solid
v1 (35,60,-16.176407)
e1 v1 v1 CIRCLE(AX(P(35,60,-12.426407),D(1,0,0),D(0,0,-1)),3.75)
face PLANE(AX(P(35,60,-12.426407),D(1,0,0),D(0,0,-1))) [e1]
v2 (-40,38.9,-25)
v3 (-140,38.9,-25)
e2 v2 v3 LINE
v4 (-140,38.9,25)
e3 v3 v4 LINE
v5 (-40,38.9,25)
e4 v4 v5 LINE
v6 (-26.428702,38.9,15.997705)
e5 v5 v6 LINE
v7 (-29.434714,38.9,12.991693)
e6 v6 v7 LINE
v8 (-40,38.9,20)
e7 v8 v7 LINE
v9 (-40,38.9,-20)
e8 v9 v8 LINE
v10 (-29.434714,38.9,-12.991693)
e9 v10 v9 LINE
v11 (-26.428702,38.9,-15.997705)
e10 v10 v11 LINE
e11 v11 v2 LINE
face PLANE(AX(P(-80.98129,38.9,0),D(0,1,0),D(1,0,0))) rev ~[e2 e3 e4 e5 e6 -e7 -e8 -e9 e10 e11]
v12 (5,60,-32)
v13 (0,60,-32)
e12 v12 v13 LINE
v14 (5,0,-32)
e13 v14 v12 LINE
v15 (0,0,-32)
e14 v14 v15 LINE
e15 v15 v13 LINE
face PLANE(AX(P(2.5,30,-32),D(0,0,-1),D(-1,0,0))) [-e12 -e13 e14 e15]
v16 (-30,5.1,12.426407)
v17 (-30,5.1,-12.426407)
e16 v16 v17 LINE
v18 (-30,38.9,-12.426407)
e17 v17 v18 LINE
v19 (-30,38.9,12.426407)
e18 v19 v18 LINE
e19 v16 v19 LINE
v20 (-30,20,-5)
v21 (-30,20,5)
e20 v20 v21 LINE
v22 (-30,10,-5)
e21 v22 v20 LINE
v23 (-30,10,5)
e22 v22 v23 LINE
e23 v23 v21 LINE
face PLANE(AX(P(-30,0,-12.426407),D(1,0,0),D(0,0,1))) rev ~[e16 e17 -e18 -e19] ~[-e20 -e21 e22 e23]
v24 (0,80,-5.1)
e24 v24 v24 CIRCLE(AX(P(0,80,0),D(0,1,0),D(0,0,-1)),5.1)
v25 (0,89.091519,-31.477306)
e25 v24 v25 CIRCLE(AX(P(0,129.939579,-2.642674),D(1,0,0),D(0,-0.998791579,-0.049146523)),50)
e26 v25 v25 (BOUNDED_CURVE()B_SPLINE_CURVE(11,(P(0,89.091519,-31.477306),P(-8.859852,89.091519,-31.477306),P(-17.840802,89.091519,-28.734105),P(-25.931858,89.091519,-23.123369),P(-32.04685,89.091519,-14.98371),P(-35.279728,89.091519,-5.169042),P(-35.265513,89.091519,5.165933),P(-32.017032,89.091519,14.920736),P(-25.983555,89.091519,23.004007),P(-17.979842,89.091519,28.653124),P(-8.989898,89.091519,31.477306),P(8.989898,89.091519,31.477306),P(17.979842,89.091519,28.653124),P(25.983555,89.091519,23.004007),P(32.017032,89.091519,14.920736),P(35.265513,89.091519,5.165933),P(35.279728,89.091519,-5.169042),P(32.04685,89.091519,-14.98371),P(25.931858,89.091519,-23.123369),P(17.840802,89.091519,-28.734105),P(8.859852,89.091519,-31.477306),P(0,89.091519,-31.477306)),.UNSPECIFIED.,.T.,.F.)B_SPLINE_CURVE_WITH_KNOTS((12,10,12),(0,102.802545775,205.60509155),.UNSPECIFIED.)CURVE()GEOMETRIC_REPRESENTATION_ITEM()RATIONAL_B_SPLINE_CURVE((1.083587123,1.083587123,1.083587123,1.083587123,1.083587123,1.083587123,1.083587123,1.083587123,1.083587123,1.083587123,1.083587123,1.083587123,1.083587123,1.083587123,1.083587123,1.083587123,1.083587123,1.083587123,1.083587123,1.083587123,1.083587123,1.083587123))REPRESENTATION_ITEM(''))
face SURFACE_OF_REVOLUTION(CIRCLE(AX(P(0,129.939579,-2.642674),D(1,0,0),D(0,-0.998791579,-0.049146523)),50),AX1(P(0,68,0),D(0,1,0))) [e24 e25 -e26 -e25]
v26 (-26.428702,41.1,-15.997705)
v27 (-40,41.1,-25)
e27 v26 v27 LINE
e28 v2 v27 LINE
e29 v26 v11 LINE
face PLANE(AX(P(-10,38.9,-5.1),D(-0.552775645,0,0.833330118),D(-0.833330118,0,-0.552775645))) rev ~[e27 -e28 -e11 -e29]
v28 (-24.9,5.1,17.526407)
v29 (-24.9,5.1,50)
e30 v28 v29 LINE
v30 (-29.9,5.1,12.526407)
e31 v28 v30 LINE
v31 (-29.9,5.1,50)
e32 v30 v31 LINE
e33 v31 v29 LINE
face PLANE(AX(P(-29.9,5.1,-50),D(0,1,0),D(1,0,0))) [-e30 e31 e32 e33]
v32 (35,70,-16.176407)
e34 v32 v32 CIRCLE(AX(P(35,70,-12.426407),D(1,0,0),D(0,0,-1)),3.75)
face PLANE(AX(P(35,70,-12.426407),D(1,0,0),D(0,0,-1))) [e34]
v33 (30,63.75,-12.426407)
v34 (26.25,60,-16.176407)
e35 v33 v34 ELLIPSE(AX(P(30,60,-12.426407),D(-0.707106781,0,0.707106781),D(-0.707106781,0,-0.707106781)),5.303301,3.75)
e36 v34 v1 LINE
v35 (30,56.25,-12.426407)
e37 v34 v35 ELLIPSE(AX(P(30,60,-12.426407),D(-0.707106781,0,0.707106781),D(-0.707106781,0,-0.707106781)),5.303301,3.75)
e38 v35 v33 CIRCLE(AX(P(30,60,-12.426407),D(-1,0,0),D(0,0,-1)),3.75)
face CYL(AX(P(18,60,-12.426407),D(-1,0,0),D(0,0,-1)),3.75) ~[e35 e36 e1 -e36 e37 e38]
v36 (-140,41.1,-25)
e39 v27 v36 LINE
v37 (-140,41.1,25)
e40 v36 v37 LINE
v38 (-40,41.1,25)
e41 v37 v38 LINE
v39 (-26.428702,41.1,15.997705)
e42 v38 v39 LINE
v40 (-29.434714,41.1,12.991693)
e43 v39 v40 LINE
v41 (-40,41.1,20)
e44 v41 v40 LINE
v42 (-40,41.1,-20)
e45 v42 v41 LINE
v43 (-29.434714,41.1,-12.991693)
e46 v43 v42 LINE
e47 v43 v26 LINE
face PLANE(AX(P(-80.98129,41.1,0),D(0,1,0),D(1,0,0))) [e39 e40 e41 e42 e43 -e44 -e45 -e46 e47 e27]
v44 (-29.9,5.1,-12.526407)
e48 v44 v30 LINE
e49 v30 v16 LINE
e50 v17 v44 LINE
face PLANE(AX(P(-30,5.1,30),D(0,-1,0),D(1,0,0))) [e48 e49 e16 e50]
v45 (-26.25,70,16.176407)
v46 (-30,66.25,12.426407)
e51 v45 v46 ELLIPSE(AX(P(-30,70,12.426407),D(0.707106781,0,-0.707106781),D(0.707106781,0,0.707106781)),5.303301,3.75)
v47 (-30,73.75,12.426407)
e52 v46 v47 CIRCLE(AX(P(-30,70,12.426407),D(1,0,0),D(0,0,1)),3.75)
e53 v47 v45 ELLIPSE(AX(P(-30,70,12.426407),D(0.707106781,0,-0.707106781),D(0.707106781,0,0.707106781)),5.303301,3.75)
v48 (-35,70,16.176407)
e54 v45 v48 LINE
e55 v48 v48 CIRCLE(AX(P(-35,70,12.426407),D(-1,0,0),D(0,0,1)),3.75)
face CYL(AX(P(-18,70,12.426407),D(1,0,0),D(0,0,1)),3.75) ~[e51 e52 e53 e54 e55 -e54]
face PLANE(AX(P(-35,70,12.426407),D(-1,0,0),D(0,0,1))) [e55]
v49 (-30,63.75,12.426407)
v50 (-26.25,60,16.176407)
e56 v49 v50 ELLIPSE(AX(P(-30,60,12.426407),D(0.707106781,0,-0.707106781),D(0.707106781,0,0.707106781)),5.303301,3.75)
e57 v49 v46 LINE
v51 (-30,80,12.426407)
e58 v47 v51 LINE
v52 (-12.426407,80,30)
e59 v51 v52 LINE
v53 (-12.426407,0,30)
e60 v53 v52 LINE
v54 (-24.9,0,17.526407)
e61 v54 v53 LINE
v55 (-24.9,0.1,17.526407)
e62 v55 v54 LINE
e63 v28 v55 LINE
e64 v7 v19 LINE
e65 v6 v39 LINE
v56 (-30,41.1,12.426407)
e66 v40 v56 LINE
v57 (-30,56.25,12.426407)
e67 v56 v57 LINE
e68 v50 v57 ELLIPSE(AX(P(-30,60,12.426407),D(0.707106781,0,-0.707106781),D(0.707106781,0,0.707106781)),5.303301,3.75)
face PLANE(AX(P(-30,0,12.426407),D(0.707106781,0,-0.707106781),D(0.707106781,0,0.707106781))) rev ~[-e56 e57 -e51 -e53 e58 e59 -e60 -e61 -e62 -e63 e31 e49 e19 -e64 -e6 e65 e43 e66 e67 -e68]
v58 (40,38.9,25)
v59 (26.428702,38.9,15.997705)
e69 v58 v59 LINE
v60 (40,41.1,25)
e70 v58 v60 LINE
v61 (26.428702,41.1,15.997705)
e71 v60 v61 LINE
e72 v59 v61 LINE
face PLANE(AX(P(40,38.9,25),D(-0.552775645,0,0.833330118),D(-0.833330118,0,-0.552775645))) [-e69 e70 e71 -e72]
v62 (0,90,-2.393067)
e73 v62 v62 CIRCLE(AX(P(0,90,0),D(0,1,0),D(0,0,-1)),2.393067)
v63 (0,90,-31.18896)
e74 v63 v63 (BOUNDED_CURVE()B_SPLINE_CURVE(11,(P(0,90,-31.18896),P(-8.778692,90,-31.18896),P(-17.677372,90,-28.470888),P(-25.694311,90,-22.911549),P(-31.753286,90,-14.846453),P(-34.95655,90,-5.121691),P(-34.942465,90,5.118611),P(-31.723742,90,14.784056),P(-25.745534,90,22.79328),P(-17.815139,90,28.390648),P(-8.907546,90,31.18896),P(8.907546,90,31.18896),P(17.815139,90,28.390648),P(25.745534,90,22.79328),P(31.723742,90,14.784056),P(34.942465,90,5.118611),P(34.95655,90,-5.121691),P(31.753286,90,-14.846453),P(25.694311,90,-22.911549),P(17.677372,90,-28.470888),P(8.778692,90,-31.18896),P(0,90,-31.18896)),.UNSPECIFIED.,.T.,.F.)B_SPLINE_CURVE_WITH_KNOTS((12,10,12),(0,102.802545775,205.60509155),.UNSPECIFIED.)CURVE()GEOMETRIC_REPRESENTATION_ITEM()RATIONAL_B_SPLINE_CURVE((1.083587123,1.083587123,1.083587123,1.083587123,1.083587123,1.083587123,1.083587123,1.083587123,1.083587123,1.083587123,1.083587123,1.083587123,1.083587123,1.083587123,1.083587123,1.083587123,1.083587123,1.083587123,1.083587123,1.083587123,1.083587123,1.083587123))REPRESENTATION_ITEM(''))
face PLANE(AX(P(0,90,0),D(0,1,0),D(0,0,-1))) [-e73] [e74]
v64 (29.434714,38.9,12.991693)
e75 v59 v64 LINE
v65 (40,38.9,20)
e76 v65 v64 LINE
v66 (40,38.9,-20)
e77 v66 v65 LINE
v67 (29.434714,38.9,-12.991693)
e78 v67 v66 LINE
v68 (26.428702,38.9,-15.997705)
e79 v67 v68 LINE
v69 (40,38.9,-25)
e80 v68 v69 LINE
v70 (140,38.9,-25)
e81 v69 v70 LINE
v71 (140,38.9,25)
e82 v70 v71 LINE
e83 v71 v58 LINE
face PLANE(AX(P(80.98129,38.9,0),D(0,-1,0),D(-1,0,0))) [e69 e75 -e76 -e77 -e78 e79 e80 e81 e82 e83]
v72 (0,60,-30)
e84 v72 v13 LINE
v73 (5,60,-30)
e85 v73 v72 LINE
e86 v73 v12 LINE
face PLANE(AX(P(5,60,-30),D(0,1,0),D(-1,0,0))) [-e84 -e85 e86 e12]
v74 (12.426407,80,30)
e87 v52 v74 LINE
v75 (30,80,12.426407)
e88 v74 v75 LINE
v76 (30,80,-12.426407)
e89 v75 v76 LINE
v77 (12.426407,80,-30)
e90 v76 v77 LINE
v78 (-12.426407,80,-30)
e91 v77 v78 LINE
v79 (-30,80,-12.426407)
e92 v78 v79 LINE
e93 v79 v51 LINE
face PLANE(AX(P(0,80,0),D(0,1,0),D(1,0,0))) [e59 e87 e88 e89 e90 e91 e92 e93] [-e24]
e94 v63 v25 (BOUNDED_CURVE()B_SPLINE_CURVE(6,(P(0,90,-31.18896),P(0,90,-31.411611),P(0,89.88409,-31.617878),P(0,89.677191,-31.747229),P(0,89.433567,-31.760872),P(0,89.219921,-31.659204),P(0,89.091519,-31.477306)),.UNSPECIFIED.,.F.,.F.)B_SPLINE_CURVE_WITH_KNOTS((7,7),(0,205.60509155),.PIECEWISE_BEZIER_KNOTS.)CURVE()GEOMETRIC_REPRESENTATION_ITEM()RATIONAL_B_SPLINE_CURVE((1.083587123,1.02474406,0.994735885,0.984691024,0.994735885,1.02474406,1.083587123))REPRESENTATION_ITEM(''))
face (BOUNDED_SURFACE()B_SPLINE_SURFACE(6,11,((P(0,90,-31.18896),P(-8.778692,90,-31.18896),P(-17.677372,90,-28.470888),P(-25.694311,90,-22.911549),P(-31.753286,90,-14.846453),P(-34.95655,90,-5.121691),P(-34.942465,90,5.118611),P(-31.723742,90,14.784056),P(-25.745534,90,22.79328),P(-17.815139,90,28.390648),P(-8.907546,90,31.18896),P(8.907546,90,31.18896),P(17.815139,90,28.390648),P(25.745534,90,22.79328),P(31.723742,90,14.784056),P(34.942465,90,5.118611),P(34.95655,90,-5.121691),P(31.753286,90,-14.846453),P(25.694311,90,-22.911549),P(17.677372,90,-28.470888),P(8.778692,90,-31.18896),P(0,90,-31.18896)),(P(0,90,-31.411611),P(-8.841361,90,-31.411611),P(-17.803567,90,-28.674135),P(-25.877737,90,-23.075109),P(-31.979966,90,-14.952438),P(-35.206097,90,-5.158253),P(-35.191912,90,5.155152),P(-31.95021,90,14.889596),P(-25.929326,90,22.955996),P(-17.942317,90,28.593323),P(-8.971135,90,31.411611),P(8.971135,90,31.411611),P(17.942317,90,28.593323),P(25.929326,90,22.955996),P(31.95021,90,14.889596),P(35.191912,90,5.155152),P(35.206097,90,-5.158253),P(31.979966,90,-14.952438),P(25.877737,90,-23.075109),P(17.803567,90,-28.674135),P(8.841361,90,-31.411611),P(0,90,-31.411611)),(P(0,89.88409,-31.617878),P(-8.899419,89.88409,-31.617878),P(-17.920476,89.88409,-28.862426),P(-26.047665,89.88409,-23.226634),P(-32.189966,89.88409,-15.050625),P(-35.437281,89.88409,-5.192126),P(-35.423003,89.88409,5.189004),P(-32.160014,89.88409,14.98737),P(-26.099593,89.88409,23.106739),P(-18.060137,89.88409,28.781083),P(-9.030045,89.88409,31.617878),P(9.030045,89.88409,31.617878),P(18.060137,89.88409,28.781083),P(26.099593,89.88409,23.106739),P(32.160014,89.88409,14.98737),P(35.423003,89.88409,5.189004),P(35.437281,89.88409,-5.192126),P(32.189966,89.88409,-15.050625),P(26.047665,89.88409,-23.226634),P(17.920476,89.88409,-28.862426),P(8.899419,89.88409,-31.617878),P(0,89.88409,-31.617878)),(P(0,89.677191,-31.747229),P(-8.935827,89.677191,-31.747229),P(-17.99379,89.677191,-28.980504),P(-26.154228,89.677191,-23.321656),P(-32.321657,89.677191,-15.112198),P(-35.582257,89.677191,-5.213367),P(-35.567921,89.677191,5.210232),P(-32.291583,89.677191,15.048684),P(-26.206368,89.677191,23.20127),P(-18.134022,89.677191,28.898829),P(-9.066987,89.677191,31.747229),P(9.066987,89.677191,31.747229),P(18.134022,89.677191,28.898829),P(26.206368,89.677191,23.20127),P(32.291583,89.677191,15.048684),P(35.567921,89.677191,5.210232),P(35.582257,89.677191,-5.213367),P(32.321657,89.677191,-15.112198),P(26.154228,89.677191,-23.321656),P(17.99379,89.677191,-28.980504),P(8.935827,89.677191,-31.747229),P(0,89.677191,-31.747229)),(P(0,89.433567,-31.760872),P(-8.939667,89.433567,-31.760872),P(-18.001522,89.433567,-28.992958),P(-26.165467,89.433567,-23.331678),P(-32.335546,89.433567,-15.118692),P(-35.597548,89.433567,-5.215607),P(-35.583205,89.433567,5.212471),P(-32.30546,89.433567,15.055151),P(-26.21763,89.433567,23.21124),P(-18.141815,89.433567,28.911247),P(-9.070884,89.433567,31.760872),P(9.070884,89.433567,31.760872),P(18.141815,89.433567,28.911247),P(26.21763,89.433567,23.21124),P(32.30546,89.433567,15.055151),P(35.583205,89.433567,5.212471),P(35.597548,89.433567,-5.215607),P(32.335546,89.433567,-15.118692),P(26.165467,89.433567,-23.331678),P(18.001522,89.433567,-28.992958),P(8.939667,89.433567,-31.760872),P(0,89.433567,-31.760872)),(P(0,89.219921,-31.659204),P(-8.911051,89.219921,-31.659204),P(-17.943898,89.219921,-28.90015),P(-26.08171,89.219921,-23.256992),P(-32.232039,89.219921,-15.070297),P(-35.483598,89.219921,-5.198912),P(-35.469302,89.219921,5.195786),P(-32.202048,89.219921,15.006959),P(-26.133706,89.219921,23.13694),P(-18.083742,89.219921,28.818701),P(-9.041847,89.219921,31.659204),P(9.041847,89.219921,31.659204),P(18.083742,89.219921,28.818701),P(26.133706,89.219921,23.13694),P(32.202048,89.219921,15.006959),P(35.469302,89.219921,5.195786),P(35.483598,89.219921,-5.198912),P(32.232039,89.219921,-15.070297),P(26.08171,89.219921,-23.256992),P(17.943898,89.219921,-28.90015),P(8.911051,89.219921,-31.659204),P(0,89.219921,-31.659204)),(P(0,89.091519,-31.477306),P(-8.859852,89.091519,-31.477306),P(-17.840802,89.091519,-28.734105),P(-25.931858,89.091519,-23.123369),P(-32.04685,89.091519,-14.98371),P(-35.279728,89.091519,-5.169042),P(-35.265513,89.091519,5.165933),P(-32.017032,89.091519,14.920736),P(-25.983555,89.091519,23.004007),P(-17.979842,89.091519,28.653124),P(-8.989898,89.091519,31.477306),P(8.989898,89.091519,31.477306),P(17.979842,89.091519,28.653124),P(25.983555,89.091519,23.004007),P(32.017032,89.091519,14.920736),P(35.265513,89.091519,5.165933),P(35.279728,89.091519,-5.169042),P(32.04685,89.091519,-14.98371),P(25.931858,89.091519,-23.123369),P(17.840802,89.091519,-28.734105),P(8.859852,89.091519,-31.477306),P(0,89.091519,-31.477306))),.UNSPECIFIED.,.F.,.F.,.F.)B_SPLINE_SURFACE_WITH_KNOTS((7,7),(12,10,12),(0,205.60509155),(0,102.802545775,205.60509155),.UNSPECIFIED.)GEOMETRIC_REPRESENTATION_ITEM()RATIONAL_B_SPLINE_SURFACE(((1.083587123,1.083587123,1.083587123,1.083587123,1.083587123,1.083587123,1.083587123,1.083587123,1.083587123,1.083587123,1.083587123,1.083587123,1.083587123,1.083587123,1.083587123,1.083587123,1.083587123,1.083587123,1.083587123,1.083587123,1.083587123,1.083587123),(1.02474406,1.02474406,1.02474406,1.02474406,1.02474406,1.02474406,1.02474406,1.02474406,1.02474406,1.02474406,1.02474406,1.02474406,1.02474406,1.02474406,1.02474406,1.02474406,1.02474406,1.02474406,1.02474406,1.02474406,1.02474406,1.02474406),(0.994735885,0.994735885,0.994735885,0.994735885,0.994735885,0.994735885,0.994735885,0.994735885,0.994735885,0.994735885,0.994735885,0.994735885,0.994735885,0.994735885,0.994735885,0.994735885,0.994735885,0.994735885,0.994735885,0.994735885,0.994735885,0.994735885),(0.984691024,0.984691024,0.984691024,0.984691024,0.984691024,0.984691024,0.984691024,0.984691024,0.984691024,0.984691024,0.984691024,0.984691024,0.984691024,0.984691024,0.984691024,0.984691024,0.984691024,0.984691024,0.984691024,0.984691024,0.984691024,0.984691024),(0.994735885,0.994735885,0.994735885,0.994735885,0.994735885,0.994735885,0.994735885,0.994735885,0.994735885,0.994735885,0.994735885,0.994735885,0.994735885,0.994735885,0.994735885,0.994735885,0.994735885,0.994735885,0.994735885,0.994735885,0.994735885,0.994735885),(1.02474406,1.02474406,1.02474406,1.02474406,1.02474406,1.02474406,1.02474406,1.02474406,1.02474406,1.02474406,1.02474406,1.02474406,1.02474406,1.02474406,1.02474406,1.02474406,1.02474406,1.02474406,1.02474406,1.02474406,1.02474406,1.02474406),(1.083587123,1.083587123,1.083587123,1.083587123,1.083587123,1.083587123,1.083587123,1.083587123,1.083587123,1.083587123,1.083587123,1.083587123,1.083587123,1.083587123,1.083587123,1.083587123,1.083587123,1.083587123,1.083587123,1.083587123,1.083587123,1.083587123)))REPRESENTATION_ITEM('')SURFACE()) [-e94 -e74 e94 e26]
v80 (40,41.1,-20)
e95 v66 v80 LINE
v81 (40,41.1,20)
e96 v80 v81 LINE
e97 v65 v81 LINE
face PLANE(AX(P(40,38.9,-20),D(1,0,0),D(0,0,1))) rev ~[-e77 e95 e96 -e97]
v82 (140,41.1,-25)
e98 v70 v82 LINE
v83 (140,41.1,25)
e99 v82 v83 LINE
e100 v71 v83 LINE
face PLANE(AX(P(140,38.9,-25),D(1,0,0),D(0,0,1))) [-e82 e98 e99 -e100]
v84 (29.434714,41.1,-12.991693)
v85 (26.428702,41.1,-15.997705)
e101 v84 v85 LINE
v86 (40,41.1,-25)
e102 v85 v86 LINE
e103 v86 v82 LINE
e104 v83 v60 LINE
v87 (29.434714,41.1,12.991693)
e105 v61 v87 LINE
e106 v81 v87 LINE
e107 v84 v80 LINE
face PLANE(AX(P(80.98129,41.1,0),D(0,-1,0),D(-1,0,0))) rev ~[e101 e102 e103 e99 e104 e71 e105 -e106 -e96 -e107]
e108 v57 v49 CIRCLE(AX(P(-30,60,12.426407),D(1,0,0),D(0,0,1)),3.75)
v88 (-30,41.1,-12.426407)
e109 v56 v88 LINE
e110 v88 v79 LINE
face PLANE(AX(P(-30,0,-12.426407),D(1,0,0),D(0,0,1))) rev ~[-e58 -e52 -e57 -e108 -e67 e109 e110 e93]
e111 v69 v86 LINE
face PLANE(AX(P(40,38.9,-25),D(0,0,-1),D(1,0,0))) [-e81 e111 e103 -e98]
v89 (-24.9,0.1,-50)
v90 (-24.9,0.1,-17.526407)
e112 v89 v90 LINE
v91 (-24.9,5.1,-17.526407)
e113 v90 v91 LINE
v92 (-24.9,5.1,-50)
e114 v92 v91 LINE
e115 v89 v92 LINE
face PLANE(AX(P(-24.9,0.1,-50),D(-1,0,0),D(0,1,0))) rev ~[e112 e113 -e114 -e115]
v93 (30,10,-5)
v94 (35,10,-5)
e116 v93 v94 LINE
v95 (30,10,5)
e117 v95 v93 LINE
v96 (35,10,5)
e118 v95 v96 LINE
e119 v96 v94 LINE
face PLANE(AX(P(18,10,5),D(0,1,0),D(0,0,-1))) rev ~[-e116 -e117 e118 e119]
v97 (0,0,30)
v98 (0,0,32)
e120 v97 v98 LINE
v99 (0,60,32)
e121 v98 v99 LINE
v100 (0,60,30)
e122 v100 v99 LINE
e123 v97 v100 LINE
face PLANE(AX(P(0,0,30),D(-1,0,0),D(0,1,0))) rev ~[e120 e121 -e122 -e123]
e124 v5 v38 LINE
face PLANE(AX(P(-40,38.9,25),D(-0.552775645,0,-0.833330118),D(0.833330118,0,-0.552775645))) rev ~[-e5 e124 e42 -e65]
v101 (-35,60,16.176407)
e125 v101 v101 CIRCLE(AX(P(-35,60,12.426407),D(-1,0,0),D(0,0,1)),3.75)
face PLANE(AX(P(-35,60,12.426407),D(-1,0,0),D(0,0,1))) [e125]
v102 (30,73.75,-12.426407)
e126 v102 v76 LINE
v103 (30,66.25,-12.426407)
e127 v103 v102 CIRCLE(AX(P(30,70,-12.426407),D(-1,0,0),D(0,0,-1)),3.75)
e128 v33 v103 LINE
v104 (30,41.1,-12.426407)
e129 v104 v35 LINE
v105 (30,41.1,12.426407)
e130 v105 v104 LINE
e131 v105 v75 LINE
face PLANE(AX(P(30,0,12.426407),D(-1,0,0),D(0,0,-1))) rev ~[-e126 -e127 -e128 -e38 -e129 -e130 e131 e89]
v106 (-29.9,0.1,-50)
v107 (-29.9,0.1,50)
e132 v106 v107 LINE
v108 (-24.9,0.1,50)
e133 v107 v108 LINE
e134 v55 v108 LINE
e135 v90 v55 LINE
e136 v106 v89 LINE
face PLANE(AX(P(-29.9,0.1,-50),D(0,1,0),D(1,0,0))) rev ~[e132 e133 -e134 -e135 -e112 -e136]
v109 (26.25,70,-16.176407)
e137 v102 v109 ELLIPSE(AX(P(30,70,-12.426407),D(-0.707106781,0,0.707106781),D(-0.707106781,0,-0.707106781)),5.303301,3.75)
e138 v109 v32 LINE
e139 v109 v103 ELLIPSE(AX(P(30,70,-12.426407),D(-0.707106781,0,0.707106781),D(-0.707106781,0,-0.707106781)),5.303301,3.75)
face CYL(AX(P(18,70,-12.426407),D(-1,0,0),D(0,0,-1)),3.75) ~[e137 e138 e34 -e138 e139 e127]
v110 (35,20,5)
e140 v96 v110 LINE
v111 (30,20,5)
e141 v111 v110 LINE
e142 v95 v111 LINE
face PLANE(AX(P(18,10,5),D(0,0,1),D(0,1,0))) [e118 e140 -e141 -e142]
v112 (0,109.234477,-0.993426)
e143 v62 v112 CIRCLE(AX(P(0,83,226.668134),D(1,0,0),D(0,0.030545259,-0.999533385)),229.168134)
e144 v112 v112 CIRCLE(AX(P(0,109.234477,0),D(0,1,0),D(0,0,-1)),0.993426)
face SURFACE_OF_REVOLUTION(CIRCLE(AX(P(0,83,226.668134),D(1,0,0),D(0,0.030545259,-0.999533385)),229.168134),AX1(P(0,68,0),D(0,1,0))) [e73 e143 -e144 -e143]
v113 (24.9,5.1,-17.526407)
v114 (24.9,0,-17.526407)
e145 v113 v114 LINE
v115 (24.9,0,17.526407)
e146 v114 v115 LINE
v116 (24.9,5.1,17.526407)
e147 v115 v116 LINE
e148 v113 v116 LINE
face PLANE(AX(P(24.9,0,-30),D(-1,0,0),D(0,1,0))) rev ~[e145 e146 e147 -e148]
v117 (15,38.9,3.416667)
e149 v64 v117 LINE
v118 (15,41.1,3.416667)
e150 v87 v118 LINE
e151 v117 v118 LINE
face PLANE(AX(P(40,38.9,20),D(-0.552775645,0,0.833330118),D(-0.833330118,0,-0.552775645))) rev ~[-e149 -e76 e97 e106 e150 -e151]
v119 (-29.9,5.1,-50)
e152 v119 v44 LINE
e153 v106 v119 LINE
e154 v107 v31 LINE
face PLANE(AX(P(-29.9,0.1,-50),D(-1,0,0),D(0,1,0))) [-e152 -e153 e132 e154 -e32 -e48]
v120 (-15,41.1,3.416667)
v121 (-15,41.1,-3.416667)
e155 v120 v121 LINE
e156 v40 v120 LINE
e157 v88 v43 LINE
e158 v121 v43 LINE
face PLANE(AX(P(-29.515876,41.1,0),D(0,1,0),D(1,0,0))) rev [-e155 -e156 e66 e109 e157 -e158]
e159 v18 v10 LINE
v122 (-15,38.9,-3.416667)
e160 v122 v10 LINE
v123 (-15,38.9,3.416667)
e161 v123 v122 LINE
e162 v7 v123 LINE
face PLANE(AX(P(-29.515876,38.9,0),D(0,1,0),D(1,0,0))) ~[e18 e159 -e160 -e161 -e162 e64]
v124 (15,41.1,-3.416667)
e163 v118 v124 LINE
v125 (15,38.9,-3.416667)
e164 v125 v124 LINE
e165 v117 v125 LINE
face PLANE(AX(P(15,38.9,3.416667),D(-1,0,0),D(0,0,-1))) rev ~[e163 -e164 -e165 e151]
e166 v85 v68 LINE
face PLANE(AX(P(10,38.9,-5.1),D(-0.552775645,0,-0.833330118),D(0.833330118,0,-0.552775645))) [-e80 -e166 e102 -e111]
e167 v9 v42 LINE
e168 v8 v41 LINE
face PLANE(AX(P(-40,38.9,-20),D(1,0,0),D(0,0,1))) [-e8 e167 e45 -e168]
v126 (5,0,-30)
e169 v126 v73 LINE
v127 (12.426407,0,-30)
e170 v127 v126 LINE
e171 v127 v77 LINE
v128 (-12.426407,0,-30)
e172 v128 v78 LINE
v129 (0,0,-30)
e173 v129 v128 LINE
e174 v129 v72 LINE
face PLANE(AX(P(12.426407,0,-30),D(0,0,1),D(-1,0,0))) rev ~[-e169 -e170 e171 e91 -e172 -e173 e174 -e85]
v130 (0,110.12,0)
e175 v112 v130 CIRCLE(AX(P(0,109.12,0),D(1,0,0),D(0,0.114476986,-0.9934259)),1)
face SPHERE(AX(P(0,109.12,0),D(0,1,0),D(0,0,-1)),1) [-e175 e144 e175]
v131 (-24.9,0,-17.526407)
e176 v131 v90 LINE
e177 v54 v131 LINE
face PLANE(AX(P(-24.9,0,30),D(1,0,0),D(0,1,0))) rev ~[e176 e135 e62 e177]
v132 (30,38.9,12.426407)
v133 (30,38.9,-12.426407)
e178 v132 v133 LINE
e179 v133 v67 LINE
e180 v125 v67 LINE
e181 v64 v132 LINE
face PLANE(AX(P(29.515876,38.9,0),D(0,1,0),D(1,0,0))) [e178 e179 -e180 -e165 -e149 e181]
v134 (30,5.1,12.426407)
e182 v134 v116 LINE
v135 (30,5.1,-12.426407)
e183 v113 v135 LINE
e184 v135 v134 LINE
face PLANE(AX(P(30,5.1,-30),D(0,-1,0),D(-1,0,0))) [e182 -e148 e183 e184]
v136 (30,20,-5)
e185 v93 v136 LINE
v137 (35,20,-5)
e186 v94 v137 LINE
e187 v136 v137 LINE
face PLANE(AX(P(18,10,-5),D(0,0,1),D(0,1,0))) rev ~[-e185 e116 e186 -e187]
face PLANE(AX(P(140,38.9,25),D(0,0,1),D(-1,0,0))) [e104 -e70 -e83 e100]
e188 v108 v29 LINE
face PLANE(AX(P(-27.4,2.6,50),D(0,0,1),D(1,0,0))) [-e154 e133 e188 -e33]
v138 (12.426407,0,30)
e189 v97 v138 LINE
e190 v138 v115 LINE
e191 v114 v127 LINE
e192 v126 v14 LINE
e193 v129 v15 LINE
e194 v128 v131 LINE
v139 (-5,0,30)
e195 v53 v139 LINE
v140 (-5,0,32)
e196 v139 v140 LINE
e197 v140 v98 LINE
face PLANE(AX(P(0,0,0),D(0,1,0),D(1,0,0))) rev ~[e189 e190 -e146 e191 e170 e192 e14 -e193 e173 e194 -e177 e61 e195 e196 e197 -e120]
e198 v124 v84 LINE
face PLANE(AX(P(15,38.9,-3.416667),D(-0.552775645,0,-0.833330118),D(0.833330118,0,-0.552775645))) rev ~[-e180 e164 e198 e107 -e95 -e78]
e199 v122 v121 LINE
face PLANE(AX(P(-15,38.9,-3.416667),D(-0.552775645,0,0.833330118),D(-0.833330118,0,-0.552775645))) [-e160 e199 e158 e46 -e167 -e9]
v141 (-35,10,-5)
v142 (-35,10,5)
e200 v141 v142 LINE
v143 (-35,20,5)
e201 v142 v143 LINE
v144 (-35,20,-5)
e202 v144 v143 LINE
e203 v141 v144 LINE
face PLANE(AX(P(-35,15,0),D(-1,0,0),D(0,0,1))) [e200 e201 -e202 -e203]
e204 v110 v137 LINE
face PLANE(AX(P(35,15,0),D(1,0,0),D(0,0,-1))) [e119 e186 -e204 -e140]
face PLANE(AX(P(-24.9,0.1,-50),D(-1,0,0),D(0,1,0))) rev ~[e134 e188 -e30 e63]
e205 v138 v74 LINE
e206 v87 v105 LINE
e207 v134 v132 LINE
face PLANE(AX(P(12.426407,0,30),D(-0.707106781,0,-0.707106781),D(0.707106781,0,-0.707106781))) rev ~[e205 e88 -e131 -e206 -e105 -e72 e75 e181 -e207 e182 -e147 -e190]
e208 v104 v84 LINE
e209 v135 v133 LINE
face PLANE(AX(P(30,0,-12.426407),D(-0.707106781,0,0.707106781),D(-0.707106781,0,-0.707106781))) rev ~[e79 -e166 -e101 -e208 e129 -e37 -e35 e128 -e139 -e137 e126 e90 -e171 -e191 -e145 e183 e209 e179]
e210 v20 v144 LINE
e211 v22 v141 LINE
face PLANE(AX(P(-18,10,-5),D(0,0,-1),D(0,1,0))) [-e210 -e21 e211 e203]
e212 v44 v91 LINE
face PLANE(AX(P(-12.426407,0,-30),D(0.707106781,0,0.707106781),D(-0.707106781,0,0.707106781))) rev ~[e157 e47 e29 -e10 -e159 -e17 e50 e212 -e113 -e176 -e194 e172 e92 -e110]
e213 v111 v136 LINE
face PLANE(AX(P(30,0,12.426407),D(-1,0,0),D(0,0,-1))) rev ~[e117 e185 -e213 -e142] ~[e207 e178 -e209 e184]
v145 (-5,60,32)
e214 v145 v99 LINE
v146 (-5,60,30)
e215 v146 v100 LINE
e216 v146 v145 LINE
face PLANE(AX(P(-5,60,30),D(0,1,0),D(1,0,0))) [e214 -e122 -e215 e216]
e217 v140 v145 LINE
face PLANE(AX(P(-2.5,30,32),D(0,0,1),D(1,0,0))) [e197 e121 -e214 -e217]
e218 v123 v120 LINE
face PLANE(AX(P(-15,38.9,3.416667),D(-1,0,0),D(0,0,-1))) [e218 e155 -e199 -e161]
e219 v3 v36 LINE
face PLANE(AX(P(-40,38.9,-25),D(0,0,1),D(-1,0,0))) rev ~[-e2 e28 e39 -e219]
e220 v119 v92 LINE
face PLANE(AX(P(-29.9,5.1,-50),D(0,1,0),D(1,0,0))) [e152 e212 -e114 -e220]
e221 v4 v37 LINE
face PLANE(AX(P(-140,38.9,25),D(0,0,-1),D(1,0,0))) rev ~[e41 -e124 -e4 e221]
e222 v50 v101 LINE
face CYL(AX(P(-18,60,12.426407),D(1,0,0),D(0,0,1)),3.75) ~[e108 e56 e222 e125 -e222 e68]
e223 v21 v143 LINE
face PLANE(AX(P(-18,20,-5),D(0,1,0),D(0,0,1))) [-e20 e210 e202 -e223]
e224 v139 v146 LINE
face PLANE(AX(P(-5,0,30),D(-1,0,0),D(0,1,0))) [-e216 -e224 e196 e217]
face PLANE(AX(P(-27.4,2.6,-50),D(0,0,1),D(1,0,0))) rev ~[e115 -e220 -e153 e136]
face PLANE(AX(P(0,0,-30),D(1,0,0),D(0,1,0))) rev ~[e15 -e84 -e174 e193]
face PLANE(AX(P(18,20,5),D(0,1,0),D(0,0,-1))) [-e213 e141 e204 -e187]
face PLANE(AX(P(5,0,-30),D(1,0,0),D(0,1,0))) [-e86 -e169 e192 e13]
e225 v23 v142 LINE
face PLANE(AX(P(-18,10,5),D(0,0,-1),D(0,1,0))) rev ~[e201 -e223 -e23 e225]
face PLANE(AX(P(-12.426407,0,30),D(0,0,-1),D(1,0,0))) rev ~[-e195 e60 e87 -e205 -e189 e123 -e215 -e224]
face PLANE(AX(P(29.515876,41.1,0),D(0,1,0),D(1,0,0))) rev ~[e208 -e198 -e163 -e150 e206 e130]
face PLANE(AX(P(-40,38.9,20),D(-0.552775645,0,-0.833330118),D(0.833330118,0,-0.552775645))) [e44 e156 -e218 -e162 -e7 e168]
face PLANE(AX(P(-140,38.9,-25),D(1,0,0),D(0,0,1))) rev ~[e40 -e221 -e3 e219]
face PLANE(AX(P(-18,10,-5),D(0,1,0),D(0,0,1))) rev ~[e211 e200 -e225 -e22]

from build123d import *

# Parameters (mm, degrees)
BOSS_EXTRUDE1_DEPTH      = 80
CUT_EXTRUDE1_DEPTH       = 1.1
SKETCH5_R                = 5.1
CUT_EXTRUDE3_DEPTH       = 12
BOSS_EXTRUDE2_START      = -12
SKETCH6_R                = 3.75
SKETCH6_W                = 10
SKETCH6_H                = 10
BOSS_EXTRUDE2_DEPTH      = 17
SKETCH7_W                = 5
SKETCH7_H                = 60
BOSS_EXTRUDE3_DEPTH      = 2
SKETCH8_W                = 5.1
SKETCH8_H                = 5.1
CUT_EXTRUDE4_DEPTH       = 106.948100502
BOSS_EXTRUDE4_DEPTH      = 2.2
CIRPATTERN1_COUNT        = 2
FILLET1_R                = 0.5
BOSS_EXTRUDE5_DEPTH      = 50
BOSS_EXTRUDE5_DEPTH_BACK = 50
SKETCH11_W               = 5
SKETCH11_H               = 5


with BuildPart() as part:
    # Sketch1 → Boss-Extrude1 (new body)
    with BuildSketch(Plane(origin=(0, 0, 0), x_dir=(1, 0, 0), z_dir=(0, 1, 0))):
        Polygon((12.426406871, -30), (30, -12.426406871), (30, 12.426406871), (12.426406871, 30), (-12.426406871, 30), (-30, 12.426406871), (-30, -12.426406871), (-12.426406871, -30), align=None)
    extrude(amount=BOSS_EXTRUDE1_DEPTH)

    # Sketch3 → Cut-Extrude1 (cut, symmetric)
    with BuildSketch(Plane(origin=(0, 40, 0), x_dir=(1, 0, 0), z_dir=(0, 1, 0))):
        Polygon((40, 25), (10, 5.1), (10, -5.1), (40, -25), align=None)
    cut_extrude1 = extrude(amount=CUT_EXTRUDE1_DEPTH, both=True, mode=Mode.SUBTRACT)

    # Mirror1: Cut-Extrude1 across plane
    add(cut_extrude1.mirror(Plane(origin=(0, 0, 0), x_dir=(0, 0, 1), z_dir=(1, 0, 0))), mode=Mode.SUBTRACT)

    # Sketch5 → Cut-Extrude3 (cut)
    with BuildSketch(Plane(origin=(0, 80, 0), x_dir=(1, 0, 0), z_dir=(0, 1, 0))):
        with Locations(Location((0, 0, 0), (0, 0, 270))):
            Circle(SKETCH5_R)
    extrude(amount=-CUT_EXTRUDE3_DEPTH, mode=Mode.SUBTRACT)

    # Sketch6 → Boss-Extrude2 (add)
    with BuildSketch(Plane.ZY.offset(30).offset(BOSS_EXTRUDE2_START)):
        with Locations((12.426406871, 70)):
            Circle(SKETCH6_R)
        with Locations((12.426406871, 60)):
            Circle(SKETCH6_R)
        with Locations((0, 15)):
            Rectangle(SKETCH6_W, SKETCH6_H)
    boss_extrude2 = extrude(amount=BOSS_EXTRUDE2_DEPTH)

    # Sketch7 → Boss-Extrude3 (add)
    with BuildSketch(Plane.XY.offset(30)):
        with Locations((-2.5, 30)):
            Rectangle(SKETCH7_W, SKETCH7_H)
    boss_extrude3 = extrude(amount=BOSS_EXTRUDE3_DEPTH)

    # Sketch8 → Cut-Extrude4 (cut, through all)
    with BuildSketch(Plane.XY.offset(30)):
        with Locations((-27.45, 2.55)):
            Rectangle(SKETCH8_W, SKETCH8_H)
    cut_extrude4 = extrude(amount=-CUT_EXTRUDE4_DEPTH, mode=Mode.SUBTRACT)

    # Sketch9 → Boss-Extrude4 (add)
    # profile 1 of 2: a face of its own
    with BuildSketch(Plane(origin=(0, 38.9, 0), x_dir=(1, 0, 0), z_dir=(0, 1, 0))):
        Polygon((-10, -5.1), (-10, 5.1), (-40, 25), (-140, 25), (-140, -25), (-40, -25), align=None)
        Polygon((-40, 20), (-40, -20), (-15, -3.416666667), (-15, 3.416666667), align=None, mode=Mode.SUBTRACT)
    # profile 2 of 2: a face of its own
    with BuildSketch(Plane(origin=(0, 38.9, 0), x_dir=(1, 0, 0), z_dir=(0, 1, 0))):
        Polygon((140, -25), (40, -25), (10, -5.1), (10, 5.1), (40, 25), (140, 25), align=None)
        Polygon((15, 3.416666667), (40, 20), (40, -20), (15, -3.416666667), align=None, mode=Mode.SUBTRACT)
    extrude(amount=BOSS_EXTRUDE4_DEPTH)

    # CirPattern1: Boss-Extrude2, Boss-Extrude3, Cut-Extrude4 ×2 about axis
    cirpattern1_axis = Axis((0, 0, 0), (0, 1, 0))
    add([boss_extrude2.rotate(cirpattern1_axis, i * 360 / CIRPATTERN1_COUNT) for i in range(1, CIRPATTERN1_COUNT)])
    add([boss_extrude3.rotate(cirpattern1_axis, i * 360 / CIRPATTERN1_COUNT) for i in range(1, CIRPATTERN1_COUNT)])
    add([cut_extrude4.rotate(cirpattern1_axis, i * 360 / CIRPATTERN1_COUNT) for i in range(1, CIRPATTERN1_COUNT)], mode=Mode.SUBTRACT)

    # Sketch10 → Revolve2 (revolve)
    with BuildSketch(Plane.XY, mode=Mode.PRIVATE) as revolve2_sk:
        with BuildLine():
            Line((32.723066645, 90), (2.393066645, 90))
            ThreePointArc((2.393066645, 90), (1.895667326, 99.631968124), (0.993425901, 109.234476985))
            ThreePointArc((0.993425901, 109.234476985), (0.665403267, 109.866484087), (0, 110.12))
            Line((0, 110.12), (0, 68))
            Line((0, 68), (5.1, 68))
            Line((5.1, 68), (5.1, 80))
            ThreePointArc((5.1, 80), (19.662538377, 82.925493733), (32.723066645, 90))
        make_face()
    revolve(revolve2_sk.sketch.rotate(Axis((0, 68, 0), (0, 1, 0)), 90), axis=Axis((0, 68, 0), (0, 1, 0)))

    # Fillet1
    fillet1_edges = [part.edges().sort_by_distance(p)[0] for p in [
        (0, 90, 32.723066645),
    ]]
    fillet(fillet1_edges, radius=FILLET1_R)

    # Sketch11 → Boss-Extrude5 (add, two sides: drawn at the far end of the back side and taken through both)
    with BuildSketch(Plane.XY.offset(-BOSS_EXTRUDE5_DEPTH_BACK)):
        with Locations((-27.4, 2.6)):
            Rectangle(SKETCH11_W, SKETCH11_H)
    extrude(amount=BOSS_EXTRUDE5_DEPTH + BOSS_EXTRUDE5_DEPTH_BACK)


solid = part.part
